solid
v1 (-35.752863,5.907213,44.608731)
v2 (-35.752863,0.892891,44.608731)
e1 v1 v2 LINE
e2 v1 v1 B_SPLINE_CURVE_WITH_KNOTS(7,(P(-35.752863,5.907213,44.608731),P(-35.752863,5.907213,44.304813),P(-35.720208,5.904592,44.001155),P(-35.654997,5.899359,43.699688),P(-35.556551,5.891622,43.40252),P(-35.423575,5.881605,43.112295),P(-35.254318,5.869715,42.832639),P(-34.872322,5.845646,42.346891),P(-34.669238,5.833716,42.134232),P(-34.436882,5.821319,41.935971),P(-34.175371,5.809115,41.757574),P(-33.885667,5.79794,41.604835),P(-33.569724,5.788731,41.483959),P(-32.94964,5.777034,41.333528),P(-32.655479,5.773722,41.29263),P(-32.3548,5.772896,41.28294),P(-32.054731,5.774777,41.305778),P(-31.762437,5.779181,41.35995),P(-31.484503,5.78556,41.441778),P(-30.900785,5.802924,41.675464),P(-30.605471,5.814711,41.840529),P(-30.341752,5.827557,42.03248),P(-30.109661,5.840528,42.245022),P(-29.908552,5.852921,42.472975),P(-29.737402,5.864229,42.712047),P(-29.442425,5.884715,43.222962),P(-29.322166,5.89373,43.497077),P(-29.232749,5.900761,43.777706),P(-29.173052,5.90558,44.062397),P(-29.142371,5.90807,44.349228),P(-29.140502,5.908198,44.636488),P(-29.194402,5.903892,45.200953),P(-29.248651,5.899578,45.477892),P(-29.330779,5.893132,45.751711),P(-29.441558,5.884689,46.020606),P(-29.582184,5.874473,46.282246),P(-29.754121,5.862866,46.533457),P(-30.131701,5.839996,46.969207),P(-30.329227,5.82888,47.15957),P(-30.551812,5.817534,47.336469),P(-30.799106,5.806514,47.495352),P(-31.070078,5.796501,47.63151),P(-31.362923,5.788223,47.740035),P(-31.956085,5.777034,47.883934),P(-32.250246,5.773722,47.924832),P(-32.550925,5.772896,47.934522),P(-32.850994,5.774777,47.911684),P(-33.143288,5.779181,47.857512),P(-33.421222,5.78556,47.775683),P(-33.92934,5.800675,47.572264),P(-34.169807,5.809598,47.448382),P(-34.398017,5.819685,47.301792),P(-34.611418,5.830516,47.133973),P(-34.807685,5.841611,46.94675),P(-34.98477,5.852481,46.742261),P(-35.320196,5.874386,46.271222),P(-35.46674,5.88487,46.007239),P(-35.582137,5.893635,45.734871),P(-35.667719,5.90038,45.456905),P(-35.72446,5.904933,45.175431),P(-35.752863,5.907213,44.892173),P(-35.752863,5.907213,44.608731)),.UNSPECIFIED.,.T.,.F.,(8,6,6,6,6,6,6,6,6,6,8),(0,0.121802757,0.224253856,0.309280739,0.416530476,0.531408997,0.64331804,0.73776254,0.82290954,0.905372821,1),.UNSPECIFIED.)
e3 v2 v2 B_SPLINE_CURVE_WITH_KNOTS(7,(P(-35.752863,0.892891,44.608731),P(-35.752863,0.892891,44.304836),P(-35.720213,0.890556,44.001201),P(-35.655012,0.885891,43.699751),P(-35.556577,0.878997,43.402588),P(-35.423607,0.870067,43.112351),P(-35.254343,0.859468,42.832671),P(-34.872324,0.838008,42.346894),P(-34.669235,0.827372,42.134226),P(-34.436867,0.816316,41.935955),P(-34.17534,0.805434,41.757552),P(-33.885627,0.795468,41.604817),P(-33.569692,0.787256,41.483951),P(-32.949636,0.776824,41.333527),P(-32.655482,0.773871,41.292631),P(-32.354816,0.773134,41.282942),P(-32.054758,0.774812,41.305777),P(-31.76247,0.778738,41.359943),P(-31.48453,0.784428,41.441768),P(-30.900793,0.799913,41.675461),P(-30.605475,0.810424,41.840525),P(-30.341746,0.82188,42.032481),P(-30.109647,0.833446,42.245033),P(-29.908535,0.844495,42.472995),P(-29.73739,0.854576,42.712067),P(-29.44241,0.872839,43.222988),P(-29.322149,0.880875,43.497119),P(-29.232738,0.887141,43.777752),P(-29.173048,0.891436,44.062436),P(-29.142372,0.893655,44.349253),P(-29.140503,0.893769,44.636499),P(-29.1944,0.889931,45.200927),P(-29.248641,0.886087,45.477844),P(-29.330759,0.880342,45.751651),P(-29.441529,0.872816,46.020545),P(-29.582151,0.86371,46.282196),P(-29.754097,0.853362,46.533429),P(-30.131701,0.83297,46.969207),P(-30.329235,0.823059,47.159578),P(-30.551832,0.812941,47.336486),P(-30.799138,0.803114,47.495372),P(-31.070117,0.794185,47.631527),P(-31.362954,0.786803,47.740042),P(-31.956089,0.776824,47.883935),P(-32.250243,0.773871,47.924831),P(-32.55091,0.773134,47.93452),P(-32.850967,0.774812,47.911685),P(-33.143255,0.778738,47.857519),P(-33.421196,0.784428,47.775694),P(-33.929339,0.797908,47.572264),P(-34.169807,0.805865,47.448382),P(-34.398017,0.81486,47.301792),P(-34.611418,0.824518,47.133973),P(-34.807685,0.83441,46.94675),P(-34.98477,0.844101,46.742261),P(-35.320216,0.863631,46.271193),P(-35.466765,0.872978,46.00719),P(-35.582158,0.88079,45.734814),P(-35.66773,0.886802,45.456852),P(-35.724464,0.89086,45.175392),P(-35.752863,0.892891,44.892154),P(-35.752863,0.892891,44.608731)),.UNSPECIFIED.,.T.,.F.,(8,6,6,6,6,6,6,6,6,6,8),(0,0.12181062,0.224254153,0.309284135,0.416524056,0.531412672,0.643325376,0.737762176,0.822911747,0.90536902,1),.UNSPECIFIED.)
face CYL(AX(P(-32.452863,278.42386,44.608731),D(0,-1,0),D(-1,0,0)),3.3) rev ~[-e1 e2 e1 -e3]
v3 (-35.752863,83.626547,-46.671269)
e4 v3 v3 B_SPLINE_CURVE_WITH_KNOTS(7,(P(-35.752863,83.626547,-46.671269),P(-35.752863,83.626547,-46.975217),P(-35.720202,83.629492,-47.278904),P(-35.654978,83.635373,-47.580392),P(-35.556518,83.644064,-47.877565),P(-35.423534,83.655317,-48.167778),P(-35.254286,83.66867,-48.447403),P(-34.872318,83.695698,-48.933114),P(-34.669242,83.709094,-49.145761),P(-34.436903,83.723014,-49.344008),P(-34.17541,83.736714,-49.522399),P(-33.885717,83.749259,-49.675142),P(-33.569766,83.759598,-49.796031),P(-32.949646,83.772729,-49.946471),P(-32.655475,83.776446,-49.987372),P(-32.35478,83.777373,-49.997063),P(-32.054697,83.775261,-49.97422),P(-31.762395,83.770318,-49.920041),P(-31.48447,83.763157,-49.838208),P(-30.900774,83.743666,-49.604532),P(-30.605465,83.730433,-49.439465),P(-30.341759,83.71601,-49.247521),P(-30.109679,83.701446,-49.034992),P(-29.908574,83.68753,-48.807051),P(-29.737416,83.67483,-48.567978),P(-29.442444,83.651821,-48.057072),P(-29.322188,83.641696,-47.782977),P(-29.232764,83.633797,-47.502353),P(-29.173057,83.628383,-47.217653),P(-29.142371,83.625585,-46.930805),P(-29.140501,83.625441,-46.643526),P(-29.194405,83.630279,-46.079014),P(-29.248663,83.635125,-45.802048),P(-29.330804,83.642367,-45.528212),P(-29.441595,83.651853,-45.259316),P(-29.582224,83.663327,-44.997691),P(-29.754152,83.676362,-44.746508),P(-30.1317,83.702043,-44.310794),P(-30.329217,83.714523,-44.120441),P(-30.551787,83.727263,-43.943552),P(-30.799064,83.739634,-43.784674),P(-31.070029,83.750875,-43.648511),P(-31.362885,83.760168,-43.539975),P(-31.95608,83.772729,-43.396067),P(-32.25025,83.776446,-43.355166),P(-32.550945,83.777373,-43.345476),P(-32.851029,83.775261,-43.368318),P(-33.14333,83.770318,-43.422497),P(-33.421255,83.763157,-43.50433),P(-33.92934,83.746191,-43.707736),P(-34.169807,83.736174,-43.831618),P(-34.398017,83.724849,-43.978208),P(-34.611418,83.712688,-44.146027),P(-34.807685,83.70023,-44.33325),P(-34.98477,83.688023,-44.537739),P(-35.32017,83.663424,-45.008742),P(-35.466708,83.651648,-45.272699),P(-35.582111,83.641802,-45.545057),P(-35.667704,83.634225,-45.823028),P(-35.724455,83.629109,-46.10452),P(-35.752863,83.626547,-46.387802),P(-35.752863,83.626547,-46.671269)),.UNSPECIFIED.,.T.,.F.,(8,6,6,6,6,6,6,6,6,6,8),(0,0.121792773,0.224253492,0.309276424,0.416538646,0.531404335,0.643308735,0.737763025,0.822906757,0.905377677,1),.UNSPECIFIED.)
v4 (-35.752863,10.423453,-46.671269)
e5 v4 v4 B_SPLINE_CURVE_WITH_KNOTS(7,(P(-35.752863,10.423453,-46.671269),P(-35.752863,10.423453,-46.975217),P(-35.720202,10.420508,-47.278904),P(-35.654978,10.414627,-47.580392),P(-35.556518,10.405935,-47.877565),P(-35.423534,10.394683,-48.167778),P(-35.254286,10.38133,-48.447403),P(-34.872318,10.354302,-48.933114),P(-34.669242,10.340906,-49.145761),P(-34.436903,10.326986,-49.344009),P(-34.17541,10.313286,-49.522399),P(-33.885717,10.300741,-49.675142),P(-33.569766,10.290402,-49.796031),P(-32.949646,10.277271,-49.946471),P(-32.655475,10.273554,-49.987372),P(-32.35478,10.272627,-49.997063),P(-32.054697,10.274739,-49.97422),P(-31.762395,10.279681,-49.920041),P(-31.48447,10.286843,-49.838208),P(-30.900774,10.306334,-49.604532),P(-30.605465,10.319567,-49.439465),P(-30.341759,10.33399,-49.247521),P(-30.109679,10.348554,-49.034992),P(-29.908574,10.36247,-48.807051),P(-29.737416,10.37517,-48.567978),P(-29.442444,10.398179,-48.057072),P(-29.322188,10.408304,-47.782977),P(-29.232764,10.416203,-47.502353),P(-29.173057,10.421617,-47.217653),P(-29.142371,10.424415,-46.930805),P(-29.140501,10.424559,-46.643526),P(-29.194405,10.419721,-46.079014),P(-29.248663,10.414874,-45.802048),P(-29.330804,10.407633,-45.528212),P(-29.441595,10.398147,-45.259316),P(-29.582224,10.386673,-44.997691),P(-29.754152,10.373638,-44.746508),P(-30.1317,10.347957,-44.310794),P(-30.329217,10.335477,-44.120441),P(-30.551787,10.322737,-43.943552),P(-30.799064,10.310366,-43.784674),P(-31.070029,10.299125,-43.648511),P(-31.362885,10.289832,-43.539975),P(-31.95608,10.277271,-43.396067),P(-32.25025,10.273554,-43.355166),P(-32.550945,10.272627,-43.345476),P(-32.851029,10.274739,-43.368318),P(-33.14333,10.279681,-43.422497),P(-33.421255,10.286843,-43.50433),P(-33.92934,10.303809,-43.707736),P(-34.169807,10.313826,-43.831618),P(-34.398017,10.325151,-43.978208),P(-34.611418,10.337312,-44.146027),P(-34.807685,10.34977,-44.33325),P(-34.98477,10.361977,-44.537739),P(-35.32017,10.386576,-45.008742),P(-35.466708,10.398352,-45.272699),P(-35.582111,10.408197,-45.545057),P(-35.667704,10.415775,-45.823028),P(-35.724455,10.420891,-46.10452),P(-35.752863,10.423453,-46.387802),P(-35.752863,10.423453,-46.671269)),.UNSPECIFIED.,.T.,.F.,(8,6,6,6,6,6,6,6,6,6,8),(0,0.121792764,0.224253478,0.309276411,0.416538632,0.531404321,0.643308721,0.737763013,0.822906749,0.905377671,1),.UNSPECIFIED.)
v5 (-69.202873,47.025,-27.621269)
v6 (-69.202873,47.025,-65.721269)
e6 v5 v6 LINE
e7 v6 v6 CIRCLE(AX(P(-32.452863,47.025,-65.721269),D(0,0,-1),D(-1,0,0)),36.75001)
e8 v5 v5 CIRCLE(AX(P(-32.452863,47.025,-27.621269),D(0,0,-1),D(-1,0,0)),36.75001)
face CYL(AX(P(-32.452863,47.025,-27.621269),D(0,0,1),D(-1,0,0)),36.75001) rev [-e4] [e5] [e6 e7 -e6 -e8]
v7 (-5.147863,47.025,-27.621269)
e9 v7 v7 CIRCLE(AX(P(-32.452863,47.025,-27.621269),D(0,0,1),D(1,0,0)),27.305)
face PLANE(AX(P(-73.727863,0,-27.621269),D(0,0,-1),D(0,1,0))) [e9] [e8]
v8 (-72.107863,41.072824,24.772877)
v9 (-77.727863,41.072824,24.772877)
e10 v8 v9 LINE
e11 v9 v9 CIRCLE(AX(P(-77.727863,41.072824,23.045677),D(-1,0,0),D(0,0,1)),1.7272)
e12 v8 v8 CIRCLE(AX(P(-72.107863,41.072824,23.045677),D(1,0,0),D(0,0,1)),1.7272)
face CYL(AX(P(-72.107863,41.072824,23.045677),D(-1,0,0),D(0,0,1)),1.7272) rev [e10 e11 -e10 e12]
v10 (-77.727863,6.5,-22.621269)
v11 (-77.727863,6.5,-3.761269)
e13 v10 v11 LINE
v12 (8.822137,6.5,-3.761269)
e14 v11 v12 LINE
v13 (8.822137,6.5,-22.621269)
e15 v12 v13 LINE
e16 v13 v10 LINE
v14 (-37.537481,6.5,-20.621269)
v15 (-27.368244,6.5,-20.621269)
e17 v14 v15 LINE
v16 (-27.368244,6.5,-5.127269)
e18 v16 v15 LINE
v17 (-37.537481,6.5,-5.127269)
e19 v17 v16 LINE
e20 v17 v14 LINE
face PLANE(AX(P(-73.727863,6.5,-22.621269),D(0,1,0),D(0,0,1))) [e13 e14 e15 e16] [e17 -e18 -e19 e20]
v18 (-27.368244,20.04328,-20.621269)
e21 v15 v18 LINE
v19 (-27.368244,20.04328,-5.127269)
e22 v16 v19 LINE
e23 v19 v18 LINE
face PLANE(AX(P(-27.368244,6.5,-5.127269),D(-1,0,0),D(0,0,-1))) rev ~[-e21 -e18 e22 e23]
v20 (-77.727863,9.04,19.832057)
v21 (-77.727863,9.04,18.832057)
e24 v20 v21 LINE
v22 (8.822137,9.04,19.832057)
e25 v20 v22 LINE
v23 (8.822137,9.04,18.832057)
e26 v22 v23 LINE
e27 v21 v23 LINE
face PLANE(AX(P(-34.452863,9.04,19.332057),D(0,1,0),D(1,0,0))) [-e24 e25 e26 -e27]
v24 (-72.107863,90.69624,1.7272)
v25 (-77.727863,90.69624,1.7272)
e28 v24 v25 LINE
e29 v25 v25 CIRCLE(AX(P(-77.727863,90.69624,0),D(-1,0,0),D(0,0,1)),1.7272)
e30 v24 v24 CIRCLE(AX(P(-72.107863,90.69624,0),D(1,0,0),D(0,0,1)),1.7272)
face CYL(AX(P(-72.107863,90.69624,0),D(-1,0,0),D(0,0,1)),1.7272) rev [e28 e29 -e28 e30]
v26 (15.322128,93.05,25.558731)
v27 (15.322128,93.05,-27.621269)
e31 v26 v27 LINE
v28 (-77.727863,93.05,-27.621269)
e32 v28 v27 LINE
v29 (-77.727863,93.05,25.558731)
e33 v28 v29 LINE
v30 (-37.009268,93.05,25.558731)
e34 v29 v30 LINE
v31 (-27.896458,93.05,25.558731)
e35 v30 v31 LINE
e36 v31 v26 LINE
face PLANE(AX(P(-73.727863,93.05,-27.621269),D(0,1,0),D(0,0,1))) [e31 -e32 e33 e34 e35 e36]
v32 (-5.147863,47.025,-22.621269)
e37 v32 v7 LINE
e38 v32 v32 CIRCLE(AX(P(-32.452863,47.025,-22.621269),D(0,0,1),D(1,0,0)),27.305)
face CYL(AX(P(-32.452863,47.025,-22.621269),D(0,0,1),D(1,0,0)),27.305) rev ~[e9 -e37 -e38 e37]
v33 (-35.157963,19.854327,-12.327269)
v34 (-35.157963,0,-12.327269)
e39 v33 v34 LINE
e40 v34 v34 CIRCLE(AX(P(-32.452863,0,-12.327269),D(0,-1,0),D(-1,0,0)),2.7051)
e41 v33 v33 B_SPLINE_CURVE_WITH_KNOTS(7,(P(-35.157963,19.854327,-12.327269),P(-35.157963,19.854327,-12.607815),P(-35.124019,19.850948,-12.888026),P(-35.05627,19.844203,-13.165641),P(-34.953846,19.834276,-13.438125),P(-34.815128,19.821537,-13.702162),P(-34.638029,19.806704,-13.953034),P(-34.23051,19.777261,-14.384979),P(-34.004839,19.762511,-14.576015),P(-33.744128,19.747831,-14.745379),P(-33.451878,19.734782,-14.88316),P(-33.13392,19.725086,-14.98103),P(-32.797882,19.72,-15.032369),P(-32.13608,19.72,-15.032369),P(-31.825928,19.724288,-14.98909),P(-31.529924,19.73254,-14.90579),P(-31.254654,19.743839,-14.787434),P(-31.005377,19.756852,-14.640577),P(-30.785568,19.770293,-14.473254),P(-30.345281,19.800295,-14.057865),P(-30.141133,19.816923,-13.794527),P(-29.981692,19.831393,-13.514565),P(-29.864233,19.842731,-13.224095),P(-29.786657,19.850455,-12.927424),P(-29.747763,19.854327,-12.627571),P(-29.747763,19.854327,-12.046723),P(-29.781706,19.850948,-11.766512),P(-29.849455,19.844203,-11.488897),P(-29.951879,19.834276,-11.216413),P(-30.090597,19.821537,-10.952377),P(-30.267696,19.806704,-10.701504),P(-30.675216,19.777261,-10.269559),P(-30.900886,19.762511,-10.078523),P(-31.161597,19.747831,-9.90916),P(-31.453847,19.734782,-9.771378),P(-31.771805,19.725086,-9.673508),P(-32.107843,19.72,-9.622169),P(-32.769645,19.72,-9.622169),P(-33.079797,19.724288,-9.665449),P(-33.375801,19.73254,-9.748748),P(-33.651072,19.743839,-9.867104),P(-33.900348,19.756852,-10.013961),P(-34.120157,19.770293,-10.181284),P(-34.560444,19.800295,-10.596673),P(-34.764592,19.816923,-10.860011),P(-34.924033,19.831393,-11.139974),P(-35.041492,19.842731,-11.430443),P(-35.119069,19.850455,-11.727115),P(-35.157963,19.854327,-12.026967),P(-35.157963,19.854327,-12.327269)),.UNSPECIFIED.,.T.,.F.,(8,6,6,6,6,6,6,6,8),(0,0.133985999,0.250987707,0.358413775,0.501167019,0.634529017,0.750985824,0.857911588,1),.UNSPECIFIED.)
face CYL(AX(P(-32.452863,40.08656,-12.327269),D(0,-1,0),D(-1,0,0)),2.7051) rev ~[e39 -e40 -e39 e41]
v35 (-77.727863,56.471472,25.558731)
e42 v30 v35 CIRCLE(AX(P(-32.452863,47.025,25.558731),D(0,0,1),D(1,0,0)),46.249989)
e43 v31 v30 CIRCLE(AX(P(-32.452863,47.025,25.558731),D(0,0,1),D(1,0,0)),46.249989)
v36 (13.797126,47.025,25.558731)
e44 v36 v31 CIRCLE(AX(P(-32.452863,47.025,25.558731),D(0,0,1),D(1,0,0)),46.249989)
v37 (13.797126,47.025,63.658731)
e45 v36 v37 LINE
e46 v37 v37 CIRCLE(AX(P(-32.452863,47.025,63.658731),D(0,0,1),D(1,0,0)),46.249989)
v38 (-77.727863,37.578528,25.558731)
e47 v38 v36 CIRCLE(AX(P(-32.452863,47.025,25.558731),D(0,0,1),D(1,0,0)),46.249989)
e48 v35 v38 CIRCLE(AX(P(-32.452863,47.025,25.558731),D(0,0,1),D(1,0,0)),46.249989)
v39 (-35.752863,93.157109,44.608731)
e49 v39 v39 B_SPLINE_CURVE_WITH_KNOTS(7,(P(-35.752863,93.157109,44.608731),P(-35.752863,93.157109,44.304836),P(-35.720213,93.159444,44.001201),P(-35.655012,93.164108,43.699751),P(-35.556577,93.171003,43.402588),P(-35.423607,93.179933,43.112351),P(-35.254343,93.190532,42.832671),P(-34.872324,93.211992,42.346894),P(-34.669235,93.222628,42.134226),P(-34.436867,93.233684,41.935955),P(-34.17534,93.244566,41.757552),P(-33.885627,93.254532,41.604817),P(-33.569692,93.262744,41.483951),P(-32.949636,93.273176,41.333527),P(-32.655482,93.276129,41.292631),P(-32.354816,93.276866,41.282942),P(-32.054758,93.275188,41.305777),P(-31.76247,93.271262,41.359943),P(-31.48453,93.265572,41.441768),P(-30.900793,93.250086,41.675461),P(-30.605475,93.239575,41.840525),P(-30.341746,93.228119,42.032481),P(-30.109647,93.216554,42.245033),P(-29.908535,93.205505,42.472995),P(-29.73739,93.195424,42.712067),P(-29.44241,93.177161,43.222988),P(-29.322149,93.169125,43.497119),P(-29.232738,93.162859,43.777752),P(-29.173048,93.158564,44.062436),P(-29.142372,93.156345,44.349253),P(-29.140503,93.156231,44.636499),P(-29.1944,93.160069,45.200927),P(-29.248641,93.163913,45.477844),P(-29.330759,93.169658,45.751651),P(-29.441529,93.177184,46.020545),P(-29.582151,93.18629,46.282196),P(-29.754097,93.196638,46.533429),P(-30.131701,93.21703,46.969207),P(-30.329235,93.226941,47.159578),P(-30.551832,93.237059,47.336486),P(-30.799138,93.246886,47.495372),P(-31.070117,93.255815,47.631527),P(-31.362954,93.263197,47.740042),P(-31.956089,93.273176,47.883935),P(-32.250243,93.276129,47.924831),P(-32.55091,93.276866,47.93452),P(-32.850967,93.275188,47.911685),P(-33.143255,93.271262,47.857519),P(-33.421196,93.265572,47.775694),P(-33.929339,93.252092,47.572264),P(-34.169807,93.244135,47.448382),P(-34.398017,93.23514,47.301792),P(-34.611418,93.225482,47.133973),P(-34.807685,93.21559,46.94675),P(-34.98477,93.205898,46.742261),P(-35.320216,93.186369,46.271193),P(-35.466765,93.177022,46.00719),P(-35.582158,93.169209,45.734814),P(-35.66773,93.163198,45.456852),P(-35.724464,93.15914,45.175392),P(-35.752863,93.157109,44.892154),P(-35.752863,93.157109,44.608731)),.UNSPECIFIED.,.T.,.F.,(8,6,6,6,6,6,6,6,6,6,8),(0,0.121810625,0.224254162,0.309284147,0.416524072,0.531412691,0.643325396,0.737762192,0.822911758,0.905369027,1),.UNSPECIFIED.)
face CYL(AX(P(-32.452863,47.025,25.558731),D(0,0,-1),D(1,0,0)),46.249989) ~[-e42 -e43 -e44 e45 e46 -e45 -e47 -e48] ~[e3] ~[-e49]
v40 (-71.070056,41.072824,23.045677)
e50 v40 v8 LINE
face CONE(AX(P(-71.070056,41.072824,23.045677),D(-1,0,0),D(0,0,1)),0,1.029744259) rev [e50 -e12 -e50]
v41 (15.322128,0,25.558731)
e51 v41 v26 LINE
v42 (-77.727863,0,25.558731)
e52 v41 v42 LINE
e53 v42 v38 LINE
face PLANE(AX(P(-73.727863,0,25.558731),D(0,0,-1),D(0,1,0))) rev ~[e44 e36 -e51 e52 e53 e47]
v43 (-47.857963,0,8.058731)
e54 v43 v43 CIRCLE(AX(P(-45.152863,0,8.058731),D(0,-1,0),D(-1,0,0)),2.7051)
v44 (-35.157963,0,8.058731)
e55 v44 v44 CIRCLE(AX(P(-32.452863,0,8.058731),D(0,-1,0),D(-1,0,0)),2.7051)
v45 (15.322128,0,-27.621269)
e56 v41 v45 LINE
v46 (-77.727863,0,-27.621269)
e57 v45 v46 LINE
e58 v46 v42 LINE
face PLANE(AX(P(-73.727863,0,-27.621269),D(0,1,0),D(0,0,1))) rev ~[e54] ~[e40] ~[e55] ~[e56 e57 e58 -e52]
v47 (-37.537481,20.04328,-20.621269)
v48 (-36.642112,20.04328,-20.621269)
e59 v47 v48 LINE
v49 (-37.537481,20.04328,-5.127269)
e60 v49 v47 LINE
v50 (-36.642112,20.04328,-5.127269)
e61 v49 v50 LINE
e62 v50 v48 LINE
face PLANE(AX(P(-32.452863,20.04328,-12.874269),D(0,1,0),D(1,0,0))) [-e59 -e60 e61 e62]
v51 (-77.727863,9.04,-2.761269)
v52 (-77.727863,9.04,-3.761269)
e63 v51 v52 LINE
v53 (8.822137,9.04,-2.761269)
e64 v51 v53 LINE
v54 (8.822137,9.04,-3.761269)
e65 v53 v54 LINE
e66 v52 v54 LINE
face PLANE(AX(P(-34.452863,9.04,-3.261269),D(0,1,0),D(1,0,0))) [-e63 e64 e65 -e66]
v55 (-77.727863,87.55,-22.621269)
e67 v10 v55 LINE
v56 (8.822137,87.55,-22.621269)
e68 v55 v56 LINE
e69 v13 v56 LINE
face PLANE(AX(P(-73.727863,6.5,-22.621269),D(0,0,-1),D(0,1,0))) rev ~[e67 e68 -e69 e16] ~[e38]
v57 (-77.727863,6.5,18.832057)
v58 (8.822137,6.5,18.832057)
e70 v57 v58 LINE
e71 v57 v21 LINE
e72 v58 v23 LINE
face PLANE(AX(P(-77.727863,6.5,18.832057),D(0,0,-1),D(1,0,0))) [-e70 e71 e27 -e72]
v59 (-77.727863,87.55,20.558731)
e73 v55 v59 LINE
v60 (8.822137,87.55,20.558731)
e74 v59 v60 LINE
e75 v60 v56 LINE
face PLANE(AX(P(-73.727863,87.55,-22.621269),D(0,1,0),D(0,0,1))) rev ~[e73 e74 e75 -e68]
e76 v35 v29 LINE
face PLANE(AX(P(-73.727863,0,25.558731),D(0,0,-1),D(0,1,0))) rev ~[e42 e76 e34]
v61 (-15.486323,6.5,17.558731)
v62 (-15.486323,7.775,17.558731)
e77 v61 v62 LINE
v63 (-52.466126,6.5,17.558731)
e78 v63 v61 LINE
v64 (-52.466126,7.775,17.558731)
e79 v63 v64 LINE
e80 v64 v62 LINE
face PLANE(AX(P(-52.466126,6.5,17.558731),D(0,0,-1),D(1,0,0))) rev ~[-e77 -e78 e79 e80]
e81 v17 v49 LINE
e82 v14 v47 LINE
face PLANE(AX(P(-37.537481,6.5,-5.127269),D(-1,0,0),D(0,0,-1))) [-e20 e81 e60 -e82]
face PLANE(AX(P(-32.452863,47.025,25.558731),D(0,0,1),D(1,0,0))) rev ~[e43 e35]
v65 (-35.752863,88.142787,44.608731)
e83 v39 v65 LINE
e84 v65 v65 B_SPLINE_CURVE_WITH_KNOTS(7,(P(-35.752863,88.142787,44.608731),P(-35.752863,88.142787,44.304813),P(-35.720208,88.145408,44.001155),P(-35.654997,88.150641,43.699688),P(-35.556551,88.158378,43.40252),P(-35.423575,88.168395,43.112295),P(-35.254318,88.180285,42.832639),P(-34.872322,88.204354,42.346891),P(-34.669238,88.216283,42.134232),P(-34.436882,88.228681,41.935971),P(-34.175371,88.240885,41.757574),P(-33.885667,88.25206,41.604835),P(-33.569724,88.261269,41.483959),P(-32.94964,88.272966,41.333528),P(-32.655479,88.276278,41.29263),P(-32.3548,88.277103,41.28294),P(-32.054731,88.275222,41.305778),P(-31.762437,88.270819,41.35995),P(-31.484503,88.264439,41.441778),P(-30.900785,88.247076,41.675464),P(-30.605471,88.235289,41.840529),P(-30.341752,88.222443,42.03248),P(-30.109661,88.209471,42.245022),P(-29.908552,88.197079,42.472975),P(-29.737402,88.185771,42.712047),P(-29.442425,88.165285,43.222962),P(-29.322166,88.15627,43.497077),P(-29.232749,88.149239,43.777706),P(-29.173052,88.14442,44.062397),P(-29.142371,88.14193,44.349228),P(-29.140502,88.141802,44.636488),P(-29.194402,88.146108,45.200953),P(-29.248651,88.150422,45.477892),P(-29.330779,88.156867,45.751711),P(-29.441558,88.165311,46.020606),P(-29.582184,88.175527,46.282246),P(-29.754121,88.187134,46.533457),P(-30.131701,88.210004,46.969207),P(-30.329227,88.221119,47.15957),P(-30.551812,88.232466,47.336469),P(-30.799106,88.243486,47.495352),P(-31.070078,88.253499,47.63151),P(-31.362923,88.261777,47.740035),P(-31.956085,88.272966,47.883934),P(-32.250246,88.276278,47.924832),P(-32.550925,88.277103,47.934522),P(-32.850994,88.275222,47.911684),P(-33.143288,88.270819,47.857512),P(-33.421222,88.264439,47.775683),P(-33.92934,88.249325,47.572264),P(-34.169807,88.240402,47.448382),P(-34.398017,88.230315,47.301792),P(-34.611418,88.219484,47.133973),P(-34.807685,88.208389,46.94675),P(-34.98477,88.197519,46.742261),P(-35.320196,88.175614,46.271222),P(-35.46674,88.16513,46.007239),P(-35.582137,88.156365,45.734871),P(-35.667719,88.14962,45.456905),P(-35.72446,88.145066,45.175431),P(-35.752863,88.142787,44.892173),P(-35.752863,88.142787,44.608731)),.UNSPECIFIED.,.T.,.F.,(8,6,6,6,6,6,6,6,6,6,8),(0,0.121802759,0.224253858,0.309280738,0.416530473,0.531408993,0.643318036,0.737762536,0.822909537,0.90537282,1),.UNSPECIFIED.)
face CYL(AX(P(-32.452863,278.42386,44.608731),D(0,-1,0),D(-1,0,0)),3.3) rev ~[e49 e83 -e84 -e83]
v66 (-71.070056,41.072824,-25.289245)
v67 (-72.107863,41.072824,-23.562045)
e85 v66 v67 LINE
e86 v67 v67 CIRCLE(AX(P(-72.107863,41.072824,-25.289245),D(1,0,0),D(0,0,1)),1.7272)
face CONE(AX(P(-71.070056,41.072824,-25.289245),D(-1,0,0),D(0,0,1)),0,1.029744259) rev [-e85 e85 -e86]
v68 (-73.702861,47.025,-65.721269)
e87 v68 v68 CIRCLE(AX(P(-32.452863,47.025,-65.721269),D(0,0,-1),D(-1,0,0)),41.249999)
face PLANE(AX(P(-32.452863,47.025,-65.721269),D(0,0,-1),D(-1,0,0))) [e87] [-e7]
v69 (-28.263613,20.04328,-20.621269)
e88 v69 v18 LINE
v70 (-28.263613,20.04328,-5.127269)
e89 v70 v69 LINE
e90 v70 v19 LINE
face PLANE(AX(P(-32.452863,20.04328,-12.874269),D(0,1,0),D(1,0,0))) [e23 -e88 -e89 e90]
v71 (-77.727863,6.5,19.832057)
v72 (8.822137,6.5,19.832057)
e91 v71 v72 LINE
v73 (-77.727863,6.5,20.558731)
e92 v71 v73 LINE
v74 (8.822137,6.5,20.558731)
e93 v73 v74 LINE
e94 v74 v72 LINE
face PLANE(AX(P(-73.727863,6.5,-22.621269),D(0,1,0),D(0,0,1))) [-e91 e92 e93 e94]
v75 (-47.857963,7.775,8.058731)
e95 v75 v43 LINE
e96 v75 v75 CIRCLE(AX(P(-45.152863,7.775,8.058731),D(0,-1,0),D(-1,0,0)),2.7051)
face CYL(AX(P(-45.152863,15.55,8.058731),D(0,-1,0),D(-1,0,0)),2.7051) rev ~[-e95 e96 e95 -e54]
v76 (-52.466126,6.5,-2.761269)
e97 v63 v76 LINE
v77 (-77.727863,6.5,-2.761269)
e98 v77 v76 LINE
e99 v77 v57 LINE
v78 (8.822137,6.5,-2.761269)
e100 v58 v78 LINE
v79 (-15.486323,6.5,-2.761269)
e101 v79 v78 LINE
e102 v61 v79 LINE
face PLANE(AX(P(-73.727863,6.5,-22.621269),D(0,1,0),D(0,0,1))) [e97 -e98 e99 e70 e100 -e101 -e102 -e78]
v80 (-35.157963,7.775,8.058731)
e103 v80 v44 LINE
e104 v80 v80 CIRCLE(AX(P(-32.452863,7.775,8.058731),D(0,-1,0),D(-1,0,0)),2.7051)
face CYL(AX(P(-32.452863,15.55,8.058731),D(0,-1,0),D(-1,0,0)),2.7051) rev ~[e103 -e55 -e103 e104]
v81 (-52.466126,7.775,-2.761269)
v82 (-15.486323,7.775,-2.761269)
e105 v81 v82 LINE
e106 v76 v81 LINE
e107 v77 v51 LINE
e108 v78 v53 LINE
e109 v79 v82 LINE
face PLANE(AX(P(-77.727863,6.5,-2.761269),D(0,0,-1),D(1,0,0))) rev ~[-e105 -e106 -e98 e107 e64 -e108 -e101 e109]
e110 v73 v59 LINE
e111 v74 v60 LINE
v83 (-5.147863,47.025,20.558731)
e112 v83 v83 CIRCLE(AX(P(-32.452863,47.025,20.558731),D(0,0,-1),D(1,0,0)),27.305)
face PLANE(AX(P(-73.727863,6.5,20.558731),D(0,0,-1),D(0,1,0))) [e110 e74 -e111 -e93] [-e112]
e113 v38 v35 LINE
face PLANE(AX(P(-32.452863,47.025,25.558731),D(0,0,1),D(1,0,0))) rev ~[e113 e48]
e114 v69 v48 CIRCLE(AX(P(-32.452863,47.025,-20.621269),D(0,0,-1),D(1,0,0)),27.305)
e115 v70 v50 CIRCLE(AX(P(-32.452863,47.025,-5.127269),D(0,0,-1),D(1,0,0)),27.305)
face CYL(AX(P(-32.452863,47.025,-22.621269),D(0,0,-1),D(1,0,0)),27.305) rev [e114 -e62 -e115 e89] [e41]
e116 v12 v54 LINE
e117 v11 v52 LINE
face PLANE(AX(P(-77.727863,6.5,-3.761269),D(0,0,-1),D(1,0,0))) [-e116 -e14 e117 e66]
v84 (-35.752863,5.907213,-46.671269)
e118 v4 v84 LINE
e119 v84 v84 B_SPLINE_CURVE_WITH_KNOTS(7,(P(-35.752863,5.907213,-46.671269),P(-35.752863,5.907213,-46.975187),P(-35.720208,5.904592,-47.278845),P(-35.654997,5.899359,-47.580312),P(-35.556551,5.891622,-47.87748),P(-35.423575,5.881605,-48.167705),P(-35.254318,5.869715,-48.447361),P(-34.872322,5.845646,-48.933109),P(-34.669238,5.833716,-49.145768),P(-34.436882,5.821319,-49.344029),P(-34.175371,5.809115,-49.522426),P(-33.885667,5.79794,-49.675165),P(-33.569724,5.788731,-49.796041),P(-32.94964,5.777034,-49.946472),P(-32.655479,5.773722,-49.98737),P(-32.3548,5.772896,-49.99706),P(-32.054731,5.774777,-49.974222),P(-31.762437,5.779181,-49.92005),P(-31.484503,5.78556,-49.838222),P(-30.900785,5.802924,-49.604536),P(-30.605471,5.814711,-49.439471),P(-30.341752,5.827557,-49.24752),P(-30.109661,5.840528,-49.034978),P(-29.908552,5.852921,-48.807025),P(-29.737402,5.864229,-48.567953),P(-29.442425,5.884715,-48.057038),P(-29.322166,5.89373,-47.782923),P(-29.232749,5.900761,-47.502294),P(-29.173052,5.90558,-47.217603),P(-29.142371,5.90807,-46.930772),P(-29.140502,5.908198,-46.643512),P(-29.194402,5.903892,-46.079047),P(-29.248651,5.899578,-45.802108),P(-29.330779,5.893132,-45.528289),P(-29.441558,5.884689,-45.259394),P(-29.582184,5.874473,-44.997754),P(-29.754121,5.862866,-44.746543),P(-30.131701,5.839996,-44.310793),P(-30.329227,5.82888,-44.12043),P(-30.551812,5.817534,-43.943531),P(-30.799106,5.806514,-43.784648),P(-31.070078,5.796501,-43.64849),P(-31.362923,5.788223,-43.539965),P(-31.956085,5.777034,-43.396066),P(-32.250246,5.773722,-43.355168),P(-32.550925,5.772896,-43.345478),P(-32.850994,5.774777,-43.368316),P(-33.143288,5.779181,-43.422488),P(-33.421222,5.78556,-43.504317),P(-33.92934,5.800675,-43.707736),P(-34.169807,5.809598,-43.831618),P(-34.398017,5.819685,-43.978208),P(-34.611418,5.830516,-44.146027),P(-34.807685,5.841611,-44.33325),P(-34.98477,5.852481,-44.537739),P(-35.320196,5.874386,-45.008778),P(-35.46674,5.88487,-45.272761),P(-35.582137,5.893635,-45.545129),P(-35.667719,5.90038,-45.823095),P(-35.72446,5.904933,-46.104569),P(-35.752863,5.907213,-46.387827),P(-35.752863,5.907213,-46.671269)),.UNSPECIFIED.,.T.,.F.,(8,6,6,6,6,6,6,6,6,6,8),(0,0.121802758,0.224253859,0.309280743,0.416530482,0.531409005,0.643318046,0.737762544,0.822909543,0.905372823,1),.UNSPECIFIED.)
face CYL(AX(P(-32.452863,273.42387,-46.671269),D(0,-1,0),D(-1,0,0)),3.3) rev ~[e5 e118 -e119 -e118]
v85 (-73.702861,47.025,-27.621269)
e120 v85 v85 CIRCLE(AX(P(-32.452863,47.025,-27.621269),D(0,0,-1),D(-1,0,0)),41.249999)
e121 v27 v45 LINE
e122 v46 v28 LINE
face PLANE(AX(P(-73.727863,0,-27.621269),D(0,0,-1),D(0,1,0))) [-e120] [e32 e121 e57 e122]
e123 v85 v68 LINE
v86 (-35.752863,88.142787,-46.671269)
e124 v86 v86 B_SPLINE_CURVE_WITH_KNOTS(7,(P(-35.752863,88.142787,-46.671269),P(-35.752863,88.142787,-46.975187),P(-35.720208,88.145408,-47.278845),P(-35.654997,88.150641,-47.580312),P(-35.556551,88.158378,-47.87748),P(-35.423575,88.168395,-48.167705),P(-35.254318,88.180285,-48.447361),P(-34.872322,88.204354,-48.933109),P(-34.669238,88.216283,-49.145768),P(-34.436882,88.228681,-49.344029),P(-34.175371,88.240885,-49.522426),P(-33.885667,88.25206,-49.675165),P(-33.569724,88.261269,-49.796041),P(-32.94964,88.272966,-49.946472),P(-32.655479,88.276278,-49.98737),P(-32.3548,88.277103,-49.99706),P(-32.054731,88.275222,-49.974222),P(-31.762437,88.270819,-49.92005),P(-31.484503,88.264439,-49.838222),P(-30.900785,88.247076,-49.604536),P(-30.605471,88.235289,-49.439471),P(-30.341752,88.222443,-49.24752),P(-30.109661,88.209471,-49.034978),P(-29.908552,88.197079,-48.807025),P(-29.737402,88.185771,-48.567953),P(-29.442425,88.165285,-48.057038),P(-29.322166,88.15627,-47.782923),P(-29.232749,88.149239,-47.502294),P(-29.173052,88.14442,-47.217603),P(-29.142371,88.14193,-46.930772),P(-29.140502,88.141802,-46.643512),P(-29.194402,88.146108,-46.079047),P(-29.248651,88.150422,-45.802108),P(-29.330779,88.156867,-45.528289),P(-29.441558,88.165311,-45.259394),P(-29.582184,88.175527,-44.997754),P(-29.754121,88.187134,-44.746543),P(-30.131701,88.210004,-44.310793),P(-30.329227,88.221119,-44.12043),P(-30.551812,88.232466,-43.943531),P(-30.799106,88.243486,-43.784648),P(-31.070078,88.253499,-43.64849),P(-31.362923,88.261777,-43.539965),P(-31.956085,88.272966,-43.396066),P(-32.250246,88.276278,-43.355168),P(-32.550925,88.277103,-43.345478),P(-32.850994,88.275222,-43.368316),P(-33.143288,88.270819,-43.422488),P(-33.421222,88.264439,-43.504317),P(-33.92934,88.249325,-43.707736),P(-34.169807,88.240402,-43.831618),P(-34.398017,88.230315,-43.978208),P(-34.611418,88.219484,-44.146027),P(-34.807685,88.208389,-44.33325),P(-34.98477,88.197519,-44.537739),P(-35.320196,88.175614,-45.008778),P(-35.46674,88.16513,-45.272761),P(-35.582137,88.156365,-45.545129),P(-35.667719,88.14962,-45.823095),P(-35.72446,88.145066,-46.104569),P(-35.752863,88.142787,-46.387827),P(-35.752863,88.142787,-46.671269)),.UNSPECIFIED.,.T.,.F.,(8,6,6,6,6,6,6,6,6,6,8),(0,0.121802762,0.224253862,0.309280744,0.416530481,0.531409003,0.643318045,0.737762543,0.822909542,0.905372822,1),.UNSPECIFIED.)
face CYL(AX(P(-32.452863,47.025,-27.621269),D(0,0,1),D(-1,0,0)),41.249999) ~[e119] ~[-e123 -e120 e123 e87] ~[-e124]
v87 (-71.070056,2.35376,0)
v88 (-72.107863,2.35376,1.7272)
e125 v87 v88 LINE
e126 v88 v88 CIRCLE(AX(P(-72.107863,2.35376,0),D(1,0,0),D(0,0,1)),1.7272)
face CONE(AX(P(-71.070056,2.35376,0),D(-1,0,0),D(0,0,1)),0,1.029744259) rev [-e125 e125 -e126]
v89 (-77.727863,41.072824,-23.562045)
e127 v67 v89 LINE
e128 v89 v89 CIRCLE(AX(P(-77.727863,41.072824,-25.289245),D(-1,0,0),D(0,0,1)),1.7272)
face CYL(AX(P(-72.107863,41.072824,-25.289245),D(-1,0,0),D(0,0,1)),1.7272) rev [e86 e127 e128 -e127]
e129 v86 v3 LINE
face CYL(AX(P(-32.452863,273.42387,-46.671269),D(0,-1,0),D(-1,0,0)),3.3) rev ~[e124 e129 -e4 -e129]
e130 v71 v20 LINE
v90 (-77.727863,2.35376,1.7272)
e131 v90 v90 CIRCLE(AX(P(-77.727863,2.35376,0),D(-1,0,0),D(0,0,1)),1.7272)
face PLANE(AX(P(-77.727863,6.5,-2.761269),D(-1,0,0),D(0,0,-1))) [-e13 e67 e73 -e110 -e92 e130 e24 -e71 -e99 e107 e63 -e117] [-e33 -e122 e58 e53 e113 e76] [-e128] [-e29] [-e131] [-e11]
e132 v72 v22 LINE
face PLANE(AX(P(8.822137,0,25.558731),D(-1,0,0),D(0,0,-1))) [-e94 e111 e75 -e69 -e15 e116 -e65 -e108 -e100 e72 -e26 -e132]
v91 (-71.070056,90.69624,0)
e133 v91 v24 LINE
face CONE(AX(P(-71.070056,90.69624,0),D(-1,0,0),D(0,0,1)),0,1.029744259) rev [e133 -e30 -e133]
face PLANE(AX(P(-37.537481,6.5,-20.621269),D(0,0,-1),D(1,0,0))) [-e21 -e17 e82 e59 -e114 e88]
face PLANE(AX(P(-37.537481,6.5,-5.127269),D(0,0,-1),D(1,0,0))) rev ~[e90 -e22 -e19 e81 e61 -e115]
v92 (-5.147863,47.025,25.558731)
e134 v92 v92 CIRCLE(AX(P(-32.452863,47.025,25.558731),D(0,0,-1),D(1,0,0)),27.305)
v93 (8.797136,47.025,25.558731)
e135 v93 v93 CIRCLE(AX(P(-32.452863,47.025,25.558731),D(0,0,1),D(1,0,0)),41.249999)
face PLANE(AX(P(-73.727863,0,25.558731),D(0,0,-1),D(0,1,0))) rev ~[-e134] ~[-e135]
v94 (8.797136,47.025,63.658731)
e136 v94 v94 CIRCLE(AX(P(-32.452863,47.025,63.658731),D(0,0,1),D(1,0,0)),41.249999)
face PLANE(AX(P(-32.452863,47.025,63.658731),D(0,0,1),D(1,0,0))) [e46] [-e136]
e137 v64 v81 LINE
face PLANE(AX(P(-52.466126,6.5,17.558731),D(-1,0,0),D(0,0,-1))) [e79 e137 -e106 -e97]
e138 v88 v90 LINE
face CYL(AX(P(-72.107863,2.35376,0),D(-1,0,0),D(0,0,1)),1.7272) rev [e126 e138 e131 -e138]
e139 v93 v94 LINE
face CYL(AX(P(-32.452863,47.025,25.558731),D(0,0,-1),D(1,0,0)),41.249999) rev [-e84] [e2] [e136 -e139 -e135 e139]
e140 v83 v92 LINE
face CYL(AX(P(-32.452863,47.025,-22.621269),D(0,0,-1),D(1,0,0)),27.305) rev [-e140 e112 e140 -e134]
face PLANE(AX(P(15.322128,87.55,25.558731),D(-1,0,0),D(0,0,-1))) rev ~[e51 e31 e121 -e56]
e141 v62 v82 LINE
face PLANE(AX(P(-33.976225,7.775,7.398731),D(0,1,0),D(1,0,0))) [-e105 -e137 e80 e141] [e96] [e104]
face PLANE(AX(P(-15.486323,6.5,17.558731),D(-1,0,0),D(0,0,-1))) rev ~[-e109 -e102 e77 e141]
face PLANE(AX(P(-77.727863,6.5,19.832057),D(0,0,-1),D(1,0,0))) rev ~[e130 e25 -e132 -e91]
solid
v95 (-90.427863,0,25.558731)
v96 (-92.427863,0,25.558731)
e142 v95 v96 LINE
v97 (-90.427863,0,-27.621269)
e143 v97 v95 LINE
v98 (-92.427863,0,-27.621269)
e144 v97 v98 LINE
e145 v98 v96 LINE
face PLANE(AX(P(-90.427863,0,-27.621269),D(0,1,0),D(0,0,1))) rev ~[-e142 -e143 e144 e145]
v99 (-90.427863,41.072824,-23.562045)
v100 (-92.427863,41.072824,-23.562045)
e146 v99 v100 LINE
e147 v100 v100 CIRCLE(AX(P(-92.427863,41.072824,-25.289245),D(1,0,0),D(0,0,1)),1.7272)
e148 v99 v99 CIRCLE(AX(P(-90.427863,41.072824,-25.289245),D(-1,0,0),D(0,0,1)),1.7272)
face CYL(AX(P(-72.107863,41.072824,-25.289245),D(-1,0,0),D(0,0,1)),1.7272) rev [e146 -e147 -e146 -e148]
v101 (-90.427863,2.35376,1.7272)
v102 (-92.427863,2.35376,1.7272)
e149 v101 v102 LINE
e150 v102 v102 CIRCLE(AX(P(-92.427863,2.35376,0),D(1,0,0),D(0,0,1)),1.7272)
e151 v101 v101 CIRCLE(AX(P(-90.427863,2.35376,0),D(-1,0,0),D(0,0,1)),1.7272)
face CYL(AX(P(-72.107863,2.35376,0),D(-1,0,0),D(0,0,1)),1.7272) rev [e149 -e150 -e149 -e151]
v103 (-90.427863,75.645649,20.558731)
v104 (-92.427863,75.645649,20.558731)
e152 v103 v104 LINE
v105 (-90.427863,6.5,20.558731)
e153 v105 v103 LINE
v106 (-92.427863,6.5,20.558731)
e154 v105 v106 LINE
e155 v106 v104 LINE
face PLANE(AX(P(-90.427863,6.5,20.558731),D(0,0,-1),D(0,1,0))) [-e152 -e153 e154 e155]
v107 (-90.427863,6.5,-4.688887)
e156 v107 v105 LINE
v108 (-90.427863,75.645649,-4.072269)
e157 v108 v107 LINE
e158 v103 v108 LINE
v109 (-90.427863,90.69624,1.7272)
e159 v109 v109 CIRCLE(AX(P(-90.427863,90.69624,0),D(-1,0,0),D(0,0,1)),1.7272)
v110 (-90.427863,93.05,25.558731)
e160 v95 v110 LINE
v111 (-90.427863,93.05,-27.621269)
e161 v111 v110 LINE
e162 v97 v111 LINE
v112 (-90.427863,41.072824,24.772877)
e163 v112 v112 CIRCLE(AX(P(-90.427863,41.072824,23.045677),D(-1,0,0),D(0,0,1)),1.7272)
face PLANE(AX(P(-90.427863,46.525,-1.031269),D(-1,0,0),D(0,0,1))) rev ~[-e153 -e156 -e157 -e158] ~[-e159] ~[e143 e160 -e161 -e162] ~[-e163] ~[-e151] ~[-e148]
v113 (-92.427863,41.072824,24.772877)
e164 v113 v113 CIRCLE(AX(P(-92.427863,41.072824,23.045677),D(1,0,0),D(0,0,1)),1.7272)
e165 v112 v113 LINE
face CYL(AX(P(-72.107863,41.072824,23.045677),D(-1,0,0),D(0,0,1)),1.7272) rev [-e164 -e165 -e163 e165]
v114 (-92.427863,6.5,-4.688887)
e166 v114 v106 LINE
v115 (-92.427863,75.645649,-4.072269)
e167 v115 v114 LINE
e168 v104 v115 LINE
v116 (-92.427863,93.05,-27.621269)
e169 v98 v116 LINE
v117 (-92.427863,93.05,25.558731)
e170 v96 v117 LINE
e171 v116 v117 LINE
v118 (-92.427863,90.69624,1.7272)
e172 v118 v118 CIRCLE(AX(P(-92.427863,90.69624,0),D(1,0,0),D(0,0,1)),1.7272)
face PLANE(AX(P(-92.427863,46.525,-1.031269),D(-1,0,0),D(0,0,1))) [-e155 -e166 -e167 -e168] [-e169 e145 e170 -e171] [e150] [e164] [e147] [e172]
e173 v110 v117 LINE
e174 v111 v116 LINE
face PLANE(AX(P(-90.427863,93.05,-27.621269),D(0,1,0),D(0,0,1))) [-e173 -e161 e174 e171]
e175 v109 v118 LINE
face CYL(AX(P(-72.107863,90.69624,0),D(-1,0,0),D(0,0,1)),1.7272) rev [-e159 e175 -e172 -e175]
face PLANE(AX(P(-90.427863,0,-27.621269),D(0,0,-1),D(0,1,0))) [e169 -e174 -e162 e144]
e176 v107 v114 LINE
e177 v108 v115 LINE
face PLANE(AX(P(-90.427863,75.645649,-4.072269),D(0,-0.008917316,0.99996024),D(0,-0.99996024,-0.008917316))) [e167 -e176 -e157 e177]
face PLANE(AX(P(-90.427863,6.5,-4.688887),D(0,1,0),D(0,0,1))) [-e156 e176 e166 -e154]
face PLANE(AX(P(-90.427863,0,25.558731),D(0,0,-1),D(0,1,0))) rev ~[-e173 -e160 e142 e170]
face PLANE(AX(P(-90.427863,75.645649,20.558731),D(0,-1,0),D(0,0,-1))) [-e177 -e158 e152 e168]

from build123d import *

# Parameters (mm, degrees)
SKETCH1_W                          = 82.55
SKETCH1_H                          = 43.18
BOSS_EXTRUDE1_DEPTH                = 6.500000002
SKETCH3_W                          = 10.169236202
SKETCH3_H                          = 15.494
BOSS_EXTRUDE2_DEPTH                = 13.54328
HOLE_FOR_8_300_SC_NUTS_SP_1_D      = 5.4102
HOLE_FOR_8_300_SC_NUTS_SP_1_DEPTH  = 20.043280002
SKETCH8_W                          = 36.979803104
SKETCH8_H                          = 20.32
BOSS_EXTRUDE3_DEPTH                = 1.27499999
HOLE_FOR_8_300_SC_NUTS_SP_2_D      = 5.4102
HOLE_FOR_8_300_SC_NUTS_SP_2_DEPTH  = 7.774999992
SKETCH14_W                         = 82.55
SKETCH14_H                         = 5
BOSS_EXTRUDE5_DEPTH                = 87.549999906
SKETCH16_W                         = 6.499990096
SKETCH16_H                         = 53.18
BOSS_EXTRUDE6_DEPTH                = 87.549999906
SKETCH19_W                         = 82.55
SKETCH19_H                         = 5
BOSS_EXTRUDE9_DEPTH                = 87.549999906
SKETCH20_R                         = 27.305
CUT_EXTRUDE1_DEPTH                 = 49.18
CUT_EXTRUDE1_DEPTH_BACK            = 6
SKETCH21_W                         = 89.049990096
SKETCH21_H                         = 53.18
BOSS_EXTRUDE10_DEPTH               = 5.50000016
SKETCH25_W                         = 53.18
SKETCH25_H                         = 93.050000066
SKETCH25_W_2                       = 43.18
SKETCH25_H_2                       = 81.049999904
BOSS_EXTRUDE11_DEPTH               = 4.000000096
SKETCH26_R                         = 46.24998878
SKETCH26_R_2                       = 41.24999878
BOSS_EXTRUDE12_DEPTH               = 38.1
SKETCH27_R                         = 41.24999878
SKETCH27_R_2                       = 36.75001032
BOSS_EXTRUDE13_DEPTH               = 38.1
M6_CLEARANCE_HOLE1_D               = 6.6
M6_CLEARANCE_HOLE2_D               = 6.6
SKETCH35_W                         = 86.550000096
SKETCH35_H                         = 1
BOSS_EXTRUDE14_DEPTH               = 2.54
SKETCH37_W                         = 86.550000096
SKETCH37_H                         = 1
BOSS_EXTRUDE15_DEPTH               = 2.54
SKETCH39_W                         = 53.18
SKETCH39_H                         = 93.050000066
BOSS_EXTRUDE17_DEPTH               = 2
TAP_DRILL_FOR_8_32_TAP2_AT_2_COUNT = 2
TAP_DRILL_FOR_8_32_TAP2_AT_2_PITCH = 54.713678959
TAP_DRILL_FOR_8_32_TAP2_AT_3_COUNT = 2
TAP_DRILL_FOR_8_32_TAP2_AT_3_PITCH = 55.69586469
TAP_DRILL_FOR_8_32_TAP2_AT_4_COUNT = 2
TAP_DRILL_FOR_8_32_TAP2_AT_4_PITCH = 88.342480507


with BuildPart() as part:
    # Sketch1 → Boss-Extrude1 (new body)
    with BuildSketch(Plane(origin=(0, 0, 0), x_dir=(1, 0, 0), z_dir=(0, 1, 0))):
        with Locations((-32.452862595, 1.031269084)):
            Rectangle(SKETCH1_W, SKETCH1_H)
    extrude(amount=BOSS_EXTRUDE1_DEPTH)

    # Sketch3 → Boss-Extrude2 (add)
    with BuildSketch(Plane(origin=(0, 6.500000002, 0), x_dir=(1, 0, 0), z_dir=(0, 1, 0))):
        with Locations((-32.452862595, 12.874269084)):
            Rectangle(SKETCH3_W, SKETCH3_H)
    extrude(amount=BOSS_EXTRUDE2_DEPTH)

    # Hole for #8 300® SC Nuts (SP)1
    with Locations(Plane(origin=(0, 20.043280002, 0), x_dir=(1, 0, 0), z_dir=(0, 1, 0))):
        with Locations((-32.452862595, 12.327269084)):
            Hole(HOLE_FOR_8_300_SC_NUTS_SP_1_D / 2, depth=HOLE_FOR_8_300_SC_NUTS_SP_1_DEPTH)

    # Sketch8 → Boss-Extrude3 (add)
    with BuildSketch(Plane(origin=(0, 6.500000002, 0), x_dir=(1, 0, 0), z_dir=(0, 1, 0))):
        with Locations((-33.976224547, -7.398730916)):
            Rectangle(SKETCH8_W, SKETCH8_H)
    extrude(amount=BOSS_EXTRUDE3_DEPTH)

    # Hole for #8 300® SC Nuts (SP)2
    with Locations(Plane(origin=(0, 7.774999992, 0), x_dir=(1, 0, 0), z_dir=(0, 1, 0))):
        with Locations((-32.452862595, -8.058730866), (-45.152862595, -8.058730866)):
            Hole(HOLE_FOR_8_300_SC_NUTS_SP_2_D / 2, depth=HOLE_FOR_8_300_SC_NUTS_SP_2_DEPTH)

    # Sketch14 → Boss-Extrude5 (add)
    with BuildSketch(Plane(origin=(0, 0, 0), x_dir=(-1, 0, 0), z_dir=(0, -1, 0))):
        with Locations((32.452862595, 25.121269084)):
            Rectangle(SKETCH14_W, SKETCH14_H)
    extrude(amount=-BOSS_EXTRUDE5_DEPTH)

    # Sketch16 → Boss-Extrude6 (add)
    with BuildSketch(Plane(origin=(0, 0, 0), x_dir=(-1, 0, 0), z_dir=(0, -1, 0))):
        with Locations((-12.072132453, 1.031269084)):
            Rectangle(SKETCH16_W, SKETCH16_H)
    extrude(amount=-BOSS_EXTRUDE6_DEPTH)

    # Sketch19 → Boss-Extrude9 (add)
    with BuildSketch(Plane.XZ):
        with Locations((-32.452862595, 23.058730916)):
            Rectangle(SKETCH19_W, SKETCH19_H)
    extrude(amount=-BOSS_EXTRUDE9_DEPTH)

    # Sketch20 → Cut-Extrude1 (cut, two sides)
    with BuildSketch(Plane.XY.offset(-22.621269084)) as cut_extrude1_sk:
        with Locations((-32.452862595, 47.024999954)):
            Circle(SKETCH20_R)
    extrude(amount=CUT_EXTRUDE1_DEPTH, mode=Mode.SUBTRACT)
    extrude(cut_extrude1_sk.sketch, amount=-CUT_EXTRUDE1_DEPTH_BACK, mode=Mode.SUBTRACT)

    # Sketch21 → Boss-Extrude10 (add)
    with BuildSketch(Plane(origin=(0, 87.549999906, 0), x_dir=(1, 0, 0), z_dir=(0, 1, 0))):
        with Locations((-29.202867547, 1.031269084)):
            Rectangle(SKETCH21_W, SKETCH21_H)
    extrude(amount=BOSS_EXTRUDE10_DEPTH)

    # Sketch25 → Boss-Extrude11 (add)
    with BuildSketch(Plane.ZY.offset(73.727862595)):
        with Locations((-1.031269084, 46.525000033)):
            Rectangle(SKETCH25_W, SKETCH25_H)
        with Locations((-1.031269084, 47.024999954)):
            Rectangle(SKETCH25_W_2, SKETCH25_H_2, mode=Mode.SUBTRACT)
    extrude(amount=BOSS_EXTRUDE11_DEPTH)

    # Sketch26 → Boss-Extrude12 (add)
    with BuildSketch(Plane.XY.offset(25.558730916)):
        with Locations((-32.452862595, 47.024999954)):
            Circle(SKETCH26_R)
        with Locations((-32.452862595, 47.024999954)):
            Circle(SKETCH26_R_2, mode=Mode.SUBTRACT)
    extrude(amount=BOSS_EXTRUDE12_DEPTH)

    # Sketch27 → Boss-Extrude13 (add)
    with BuildSketch(Plane(origin=(0, 0, -27.621269084), x_dir=(-1, 0, 0), z_dir=(0, 0, -1))):
        with Locations((32.452862595, 47.024999954)):
            Circle(SKETCH27_R)
        with Locations((32.452862595, 47.024999954)):
            Circle(SKETCH27_R_2, mode=Mode.SUBTRACT)
    extrude(amount=BOSS_EXTRUDE13_DEPTH)

    # M6 Clearance Hole1 (through all)
    with Locations(Plane(origin=(0, 88.274998734, 0), x_dir=(1, 0, 0), z_dir=(0, 1, 0))):
        with Locations((-32.452862595, 46.671269084)):
            Hole(M6_CLEARANCE_HOLE1_D / 2)

    # M6 Clearance Hole2 (through all)
    with Locations(Plane(origin=(0, 93.274988734, 0), x_dir=(1, 0, 0), z_dir=(0, 1, 0))):
        with Locations((-32.452862595, -44.608730916)):
            Hole(M6_CLEARANCE_HOLE2_D / 2)

    # Sketch35 → Boss-Extrude14 (add)
    with BuildSketch(Plane(origin=(0, 6.500000002, 0), x_dir=(1, 0, 0), z_dir=(0, 1, 0))):
        with Locations((-34.452862643, 3.261269084)):
            Rectangle(SKETCH35_W, SKETCH35_H)
    extrude(amount=BOSS_EXTRUDE14_DEPTH)

    # Sketch37 → Boss-Extrude15 (add)
    with BuildSketch(Plane(origin=(0, 6.500000002, 0), x_dir=(1, 0, 0), z_dir=(0, 1, 0))):
        with Locations((-34.452862643, -19.332057389)):
            Rectangle(SKETCH37_W, SKETCH37_H)
    extrude(amount=BOSS_EXTRUDE15_DEPTH)


with BuildPart() as body_2:
    # Sketch39 → Boss-Extrude17 (new body)
    with BuildSketch(Plane.ZY.offset(90.427862691)):
        with Locations((-1.031269084, 46.525000033)):
            Rectangle(SKETCH39_W, SKETCH39_H)
        Polygon((-4.072269098, 75.645648556), (-4.688887234, 6.500000002), (20.558730916, 6.500000002), (20.558730916, 75.645648556), align=None, mode=Mode.SUBTRACT)
    extrude(amount=BOSS_EXTRUDE17_DEPTH)


with BuildPart() as tap_drill_for_8_32_tap2_tool:
    # Sketch44 → Tap Drill for #8-32 Tap2 (revolve)
    with BuildSketch(Plane(origin=(-92.427862691, 90.696240287, 0), x_dir=(0, 0, 1), z_dir=(0, 1, 0))):
        Polygon((0, 0), (0, 21.357806461), (1.7272, 20.32), (1.7272, 0), align=None)
    tap_drill_for_8_32_tap2 = revolve(axis=Axis((-98.777862691, 90.696240287, 0), (1, 0, 0)))


with BuildPart() as part_1:
    add(part.part)

    # Tap Drill for #8-32 Tap2: cut by tap_drill_for_8_32_tap2_tool
    add(tap_drill_for_8_32_tap2_tool.part, mode=Mode.SUBTRACT)


with BuildPart() as body_2_1:
    add(body_2.part)

    # Tap Drill for #8-32 Tap2: cut by tap_drill_for_8_32_tap2_tool
    add(tap_drill_for_8_32_tap2_tool.part, mode=Mode.SUBTRACT)


with BuildPart() as tap_drill_for_8_32_tap2_at_2_tool:
    # Tap Drill for #8-32 Tap2 at 2: Tap Drill for #8-32 Tap2 ×2
    with Locations(*[Vector(0, -0.906965442, 0.421205042) * (i * TAP_DRILL_FOR_8_32_TAP2_AT_2_PITCH) for i in range(1, TAP_DRILL_FOR_8_32_TAP2_AT_2_COUNT)]):
        add(tap_drill_for_8_32_tap2)


with BuildPart() as part_2:
    add(part_1.part)

    # Tap Drill for #8-32 Tap2 at 2: cut by tap_drill_for_8_32_tap2_at_2_tool
    add(tap_drill_for_8_32_tap2_at_2_tool.part, mode=Mode.SUBTRACT)


with BuildPart() as body_2_2:
    add(body_2_1.part)

    # Tap Drill for #8-32 Tap2 at 2: cut by tap_drill_for_8_32_tap2_at_2_tool
    add(tap_drill_for_8_32_tap2_at_2_tool.part, mode=Mode.SUBTRACT)


with BuildPart() as tap_drill_for_8_32_tap2_at_3_tool:
    # Tap Drill for #8-32 Tap2 at 3: Tap Drill for #8-32 Tap2 ×2
    with Locations(*[Vector(0, -0.890971283, -0.454059658) * (i * TAP_DRILL_FOR_8_32_TAP2_AT_3_PITCH) for i in range(1, TAP_DRILL_FOR_8_32_TAP2_AT_3_COUNT)]):
        add(tap_drill_for_8_32_tap2)


with BuildPart() as part_3:
    add(part_2.part)

    # Tap Drill for #8-32 Tap2 at 3: cut by tap_drill_for_8_32_tap2_at_3_tool
    add(tap_drill_for_8_32_tap2_at_3_tool.part, mode=Mode.SUBTRACT)


with BuildPart() as body_2_3:
    add(body_2_2.part)

    # Tap Drill for #8-32 Tap2 at 3: cut by tap_drill_for_8_32_tap2_at_3_tool
    add(tap_drill_for_8_32_tap2_at_3_tool.part, mode=Mode.SUBTRACT)


with BuildPart() as tap_drill_for_8_32_tap2_at_4_tool:
    # Tap Drill for #8-32 Tap2 at 4: Tap Drill for #8-32 Tap2 ×2
    with Locations(*[(0, -i * TAP_DRILL_FOR_8_32_TAP2_AT_4_PITCH, 0) for i in range(1, TAP_DRILL_FOR_8_32_TAP2_AT_4_COUNT)]):
        add(tap_drill_for_8_32_tap2)


with BuildPart() as part_4:
    add(part_3.part)

    # Tap Drill for #8-32 Tap2 at 4: cut by tap_drill_for_8_32_tap2_at_4_tool
    add(tap_drill_for_8_32_tap2_at_4_tool.part, mode=Mode.SUBTRACT)


with BuildPart() as body_2_4:
    add(body_2_3.part)

    # Tap Drill for #8-32 Tap2 at 4: cut by tap_drill_for_8_32_tap2_at_4_tool
    add(tap_drill_for_8_32_tap2_at_4_tool.part, mode=Mode.SUBTRACT)


solid = Compound([part_4.part, body_2_4.part])
